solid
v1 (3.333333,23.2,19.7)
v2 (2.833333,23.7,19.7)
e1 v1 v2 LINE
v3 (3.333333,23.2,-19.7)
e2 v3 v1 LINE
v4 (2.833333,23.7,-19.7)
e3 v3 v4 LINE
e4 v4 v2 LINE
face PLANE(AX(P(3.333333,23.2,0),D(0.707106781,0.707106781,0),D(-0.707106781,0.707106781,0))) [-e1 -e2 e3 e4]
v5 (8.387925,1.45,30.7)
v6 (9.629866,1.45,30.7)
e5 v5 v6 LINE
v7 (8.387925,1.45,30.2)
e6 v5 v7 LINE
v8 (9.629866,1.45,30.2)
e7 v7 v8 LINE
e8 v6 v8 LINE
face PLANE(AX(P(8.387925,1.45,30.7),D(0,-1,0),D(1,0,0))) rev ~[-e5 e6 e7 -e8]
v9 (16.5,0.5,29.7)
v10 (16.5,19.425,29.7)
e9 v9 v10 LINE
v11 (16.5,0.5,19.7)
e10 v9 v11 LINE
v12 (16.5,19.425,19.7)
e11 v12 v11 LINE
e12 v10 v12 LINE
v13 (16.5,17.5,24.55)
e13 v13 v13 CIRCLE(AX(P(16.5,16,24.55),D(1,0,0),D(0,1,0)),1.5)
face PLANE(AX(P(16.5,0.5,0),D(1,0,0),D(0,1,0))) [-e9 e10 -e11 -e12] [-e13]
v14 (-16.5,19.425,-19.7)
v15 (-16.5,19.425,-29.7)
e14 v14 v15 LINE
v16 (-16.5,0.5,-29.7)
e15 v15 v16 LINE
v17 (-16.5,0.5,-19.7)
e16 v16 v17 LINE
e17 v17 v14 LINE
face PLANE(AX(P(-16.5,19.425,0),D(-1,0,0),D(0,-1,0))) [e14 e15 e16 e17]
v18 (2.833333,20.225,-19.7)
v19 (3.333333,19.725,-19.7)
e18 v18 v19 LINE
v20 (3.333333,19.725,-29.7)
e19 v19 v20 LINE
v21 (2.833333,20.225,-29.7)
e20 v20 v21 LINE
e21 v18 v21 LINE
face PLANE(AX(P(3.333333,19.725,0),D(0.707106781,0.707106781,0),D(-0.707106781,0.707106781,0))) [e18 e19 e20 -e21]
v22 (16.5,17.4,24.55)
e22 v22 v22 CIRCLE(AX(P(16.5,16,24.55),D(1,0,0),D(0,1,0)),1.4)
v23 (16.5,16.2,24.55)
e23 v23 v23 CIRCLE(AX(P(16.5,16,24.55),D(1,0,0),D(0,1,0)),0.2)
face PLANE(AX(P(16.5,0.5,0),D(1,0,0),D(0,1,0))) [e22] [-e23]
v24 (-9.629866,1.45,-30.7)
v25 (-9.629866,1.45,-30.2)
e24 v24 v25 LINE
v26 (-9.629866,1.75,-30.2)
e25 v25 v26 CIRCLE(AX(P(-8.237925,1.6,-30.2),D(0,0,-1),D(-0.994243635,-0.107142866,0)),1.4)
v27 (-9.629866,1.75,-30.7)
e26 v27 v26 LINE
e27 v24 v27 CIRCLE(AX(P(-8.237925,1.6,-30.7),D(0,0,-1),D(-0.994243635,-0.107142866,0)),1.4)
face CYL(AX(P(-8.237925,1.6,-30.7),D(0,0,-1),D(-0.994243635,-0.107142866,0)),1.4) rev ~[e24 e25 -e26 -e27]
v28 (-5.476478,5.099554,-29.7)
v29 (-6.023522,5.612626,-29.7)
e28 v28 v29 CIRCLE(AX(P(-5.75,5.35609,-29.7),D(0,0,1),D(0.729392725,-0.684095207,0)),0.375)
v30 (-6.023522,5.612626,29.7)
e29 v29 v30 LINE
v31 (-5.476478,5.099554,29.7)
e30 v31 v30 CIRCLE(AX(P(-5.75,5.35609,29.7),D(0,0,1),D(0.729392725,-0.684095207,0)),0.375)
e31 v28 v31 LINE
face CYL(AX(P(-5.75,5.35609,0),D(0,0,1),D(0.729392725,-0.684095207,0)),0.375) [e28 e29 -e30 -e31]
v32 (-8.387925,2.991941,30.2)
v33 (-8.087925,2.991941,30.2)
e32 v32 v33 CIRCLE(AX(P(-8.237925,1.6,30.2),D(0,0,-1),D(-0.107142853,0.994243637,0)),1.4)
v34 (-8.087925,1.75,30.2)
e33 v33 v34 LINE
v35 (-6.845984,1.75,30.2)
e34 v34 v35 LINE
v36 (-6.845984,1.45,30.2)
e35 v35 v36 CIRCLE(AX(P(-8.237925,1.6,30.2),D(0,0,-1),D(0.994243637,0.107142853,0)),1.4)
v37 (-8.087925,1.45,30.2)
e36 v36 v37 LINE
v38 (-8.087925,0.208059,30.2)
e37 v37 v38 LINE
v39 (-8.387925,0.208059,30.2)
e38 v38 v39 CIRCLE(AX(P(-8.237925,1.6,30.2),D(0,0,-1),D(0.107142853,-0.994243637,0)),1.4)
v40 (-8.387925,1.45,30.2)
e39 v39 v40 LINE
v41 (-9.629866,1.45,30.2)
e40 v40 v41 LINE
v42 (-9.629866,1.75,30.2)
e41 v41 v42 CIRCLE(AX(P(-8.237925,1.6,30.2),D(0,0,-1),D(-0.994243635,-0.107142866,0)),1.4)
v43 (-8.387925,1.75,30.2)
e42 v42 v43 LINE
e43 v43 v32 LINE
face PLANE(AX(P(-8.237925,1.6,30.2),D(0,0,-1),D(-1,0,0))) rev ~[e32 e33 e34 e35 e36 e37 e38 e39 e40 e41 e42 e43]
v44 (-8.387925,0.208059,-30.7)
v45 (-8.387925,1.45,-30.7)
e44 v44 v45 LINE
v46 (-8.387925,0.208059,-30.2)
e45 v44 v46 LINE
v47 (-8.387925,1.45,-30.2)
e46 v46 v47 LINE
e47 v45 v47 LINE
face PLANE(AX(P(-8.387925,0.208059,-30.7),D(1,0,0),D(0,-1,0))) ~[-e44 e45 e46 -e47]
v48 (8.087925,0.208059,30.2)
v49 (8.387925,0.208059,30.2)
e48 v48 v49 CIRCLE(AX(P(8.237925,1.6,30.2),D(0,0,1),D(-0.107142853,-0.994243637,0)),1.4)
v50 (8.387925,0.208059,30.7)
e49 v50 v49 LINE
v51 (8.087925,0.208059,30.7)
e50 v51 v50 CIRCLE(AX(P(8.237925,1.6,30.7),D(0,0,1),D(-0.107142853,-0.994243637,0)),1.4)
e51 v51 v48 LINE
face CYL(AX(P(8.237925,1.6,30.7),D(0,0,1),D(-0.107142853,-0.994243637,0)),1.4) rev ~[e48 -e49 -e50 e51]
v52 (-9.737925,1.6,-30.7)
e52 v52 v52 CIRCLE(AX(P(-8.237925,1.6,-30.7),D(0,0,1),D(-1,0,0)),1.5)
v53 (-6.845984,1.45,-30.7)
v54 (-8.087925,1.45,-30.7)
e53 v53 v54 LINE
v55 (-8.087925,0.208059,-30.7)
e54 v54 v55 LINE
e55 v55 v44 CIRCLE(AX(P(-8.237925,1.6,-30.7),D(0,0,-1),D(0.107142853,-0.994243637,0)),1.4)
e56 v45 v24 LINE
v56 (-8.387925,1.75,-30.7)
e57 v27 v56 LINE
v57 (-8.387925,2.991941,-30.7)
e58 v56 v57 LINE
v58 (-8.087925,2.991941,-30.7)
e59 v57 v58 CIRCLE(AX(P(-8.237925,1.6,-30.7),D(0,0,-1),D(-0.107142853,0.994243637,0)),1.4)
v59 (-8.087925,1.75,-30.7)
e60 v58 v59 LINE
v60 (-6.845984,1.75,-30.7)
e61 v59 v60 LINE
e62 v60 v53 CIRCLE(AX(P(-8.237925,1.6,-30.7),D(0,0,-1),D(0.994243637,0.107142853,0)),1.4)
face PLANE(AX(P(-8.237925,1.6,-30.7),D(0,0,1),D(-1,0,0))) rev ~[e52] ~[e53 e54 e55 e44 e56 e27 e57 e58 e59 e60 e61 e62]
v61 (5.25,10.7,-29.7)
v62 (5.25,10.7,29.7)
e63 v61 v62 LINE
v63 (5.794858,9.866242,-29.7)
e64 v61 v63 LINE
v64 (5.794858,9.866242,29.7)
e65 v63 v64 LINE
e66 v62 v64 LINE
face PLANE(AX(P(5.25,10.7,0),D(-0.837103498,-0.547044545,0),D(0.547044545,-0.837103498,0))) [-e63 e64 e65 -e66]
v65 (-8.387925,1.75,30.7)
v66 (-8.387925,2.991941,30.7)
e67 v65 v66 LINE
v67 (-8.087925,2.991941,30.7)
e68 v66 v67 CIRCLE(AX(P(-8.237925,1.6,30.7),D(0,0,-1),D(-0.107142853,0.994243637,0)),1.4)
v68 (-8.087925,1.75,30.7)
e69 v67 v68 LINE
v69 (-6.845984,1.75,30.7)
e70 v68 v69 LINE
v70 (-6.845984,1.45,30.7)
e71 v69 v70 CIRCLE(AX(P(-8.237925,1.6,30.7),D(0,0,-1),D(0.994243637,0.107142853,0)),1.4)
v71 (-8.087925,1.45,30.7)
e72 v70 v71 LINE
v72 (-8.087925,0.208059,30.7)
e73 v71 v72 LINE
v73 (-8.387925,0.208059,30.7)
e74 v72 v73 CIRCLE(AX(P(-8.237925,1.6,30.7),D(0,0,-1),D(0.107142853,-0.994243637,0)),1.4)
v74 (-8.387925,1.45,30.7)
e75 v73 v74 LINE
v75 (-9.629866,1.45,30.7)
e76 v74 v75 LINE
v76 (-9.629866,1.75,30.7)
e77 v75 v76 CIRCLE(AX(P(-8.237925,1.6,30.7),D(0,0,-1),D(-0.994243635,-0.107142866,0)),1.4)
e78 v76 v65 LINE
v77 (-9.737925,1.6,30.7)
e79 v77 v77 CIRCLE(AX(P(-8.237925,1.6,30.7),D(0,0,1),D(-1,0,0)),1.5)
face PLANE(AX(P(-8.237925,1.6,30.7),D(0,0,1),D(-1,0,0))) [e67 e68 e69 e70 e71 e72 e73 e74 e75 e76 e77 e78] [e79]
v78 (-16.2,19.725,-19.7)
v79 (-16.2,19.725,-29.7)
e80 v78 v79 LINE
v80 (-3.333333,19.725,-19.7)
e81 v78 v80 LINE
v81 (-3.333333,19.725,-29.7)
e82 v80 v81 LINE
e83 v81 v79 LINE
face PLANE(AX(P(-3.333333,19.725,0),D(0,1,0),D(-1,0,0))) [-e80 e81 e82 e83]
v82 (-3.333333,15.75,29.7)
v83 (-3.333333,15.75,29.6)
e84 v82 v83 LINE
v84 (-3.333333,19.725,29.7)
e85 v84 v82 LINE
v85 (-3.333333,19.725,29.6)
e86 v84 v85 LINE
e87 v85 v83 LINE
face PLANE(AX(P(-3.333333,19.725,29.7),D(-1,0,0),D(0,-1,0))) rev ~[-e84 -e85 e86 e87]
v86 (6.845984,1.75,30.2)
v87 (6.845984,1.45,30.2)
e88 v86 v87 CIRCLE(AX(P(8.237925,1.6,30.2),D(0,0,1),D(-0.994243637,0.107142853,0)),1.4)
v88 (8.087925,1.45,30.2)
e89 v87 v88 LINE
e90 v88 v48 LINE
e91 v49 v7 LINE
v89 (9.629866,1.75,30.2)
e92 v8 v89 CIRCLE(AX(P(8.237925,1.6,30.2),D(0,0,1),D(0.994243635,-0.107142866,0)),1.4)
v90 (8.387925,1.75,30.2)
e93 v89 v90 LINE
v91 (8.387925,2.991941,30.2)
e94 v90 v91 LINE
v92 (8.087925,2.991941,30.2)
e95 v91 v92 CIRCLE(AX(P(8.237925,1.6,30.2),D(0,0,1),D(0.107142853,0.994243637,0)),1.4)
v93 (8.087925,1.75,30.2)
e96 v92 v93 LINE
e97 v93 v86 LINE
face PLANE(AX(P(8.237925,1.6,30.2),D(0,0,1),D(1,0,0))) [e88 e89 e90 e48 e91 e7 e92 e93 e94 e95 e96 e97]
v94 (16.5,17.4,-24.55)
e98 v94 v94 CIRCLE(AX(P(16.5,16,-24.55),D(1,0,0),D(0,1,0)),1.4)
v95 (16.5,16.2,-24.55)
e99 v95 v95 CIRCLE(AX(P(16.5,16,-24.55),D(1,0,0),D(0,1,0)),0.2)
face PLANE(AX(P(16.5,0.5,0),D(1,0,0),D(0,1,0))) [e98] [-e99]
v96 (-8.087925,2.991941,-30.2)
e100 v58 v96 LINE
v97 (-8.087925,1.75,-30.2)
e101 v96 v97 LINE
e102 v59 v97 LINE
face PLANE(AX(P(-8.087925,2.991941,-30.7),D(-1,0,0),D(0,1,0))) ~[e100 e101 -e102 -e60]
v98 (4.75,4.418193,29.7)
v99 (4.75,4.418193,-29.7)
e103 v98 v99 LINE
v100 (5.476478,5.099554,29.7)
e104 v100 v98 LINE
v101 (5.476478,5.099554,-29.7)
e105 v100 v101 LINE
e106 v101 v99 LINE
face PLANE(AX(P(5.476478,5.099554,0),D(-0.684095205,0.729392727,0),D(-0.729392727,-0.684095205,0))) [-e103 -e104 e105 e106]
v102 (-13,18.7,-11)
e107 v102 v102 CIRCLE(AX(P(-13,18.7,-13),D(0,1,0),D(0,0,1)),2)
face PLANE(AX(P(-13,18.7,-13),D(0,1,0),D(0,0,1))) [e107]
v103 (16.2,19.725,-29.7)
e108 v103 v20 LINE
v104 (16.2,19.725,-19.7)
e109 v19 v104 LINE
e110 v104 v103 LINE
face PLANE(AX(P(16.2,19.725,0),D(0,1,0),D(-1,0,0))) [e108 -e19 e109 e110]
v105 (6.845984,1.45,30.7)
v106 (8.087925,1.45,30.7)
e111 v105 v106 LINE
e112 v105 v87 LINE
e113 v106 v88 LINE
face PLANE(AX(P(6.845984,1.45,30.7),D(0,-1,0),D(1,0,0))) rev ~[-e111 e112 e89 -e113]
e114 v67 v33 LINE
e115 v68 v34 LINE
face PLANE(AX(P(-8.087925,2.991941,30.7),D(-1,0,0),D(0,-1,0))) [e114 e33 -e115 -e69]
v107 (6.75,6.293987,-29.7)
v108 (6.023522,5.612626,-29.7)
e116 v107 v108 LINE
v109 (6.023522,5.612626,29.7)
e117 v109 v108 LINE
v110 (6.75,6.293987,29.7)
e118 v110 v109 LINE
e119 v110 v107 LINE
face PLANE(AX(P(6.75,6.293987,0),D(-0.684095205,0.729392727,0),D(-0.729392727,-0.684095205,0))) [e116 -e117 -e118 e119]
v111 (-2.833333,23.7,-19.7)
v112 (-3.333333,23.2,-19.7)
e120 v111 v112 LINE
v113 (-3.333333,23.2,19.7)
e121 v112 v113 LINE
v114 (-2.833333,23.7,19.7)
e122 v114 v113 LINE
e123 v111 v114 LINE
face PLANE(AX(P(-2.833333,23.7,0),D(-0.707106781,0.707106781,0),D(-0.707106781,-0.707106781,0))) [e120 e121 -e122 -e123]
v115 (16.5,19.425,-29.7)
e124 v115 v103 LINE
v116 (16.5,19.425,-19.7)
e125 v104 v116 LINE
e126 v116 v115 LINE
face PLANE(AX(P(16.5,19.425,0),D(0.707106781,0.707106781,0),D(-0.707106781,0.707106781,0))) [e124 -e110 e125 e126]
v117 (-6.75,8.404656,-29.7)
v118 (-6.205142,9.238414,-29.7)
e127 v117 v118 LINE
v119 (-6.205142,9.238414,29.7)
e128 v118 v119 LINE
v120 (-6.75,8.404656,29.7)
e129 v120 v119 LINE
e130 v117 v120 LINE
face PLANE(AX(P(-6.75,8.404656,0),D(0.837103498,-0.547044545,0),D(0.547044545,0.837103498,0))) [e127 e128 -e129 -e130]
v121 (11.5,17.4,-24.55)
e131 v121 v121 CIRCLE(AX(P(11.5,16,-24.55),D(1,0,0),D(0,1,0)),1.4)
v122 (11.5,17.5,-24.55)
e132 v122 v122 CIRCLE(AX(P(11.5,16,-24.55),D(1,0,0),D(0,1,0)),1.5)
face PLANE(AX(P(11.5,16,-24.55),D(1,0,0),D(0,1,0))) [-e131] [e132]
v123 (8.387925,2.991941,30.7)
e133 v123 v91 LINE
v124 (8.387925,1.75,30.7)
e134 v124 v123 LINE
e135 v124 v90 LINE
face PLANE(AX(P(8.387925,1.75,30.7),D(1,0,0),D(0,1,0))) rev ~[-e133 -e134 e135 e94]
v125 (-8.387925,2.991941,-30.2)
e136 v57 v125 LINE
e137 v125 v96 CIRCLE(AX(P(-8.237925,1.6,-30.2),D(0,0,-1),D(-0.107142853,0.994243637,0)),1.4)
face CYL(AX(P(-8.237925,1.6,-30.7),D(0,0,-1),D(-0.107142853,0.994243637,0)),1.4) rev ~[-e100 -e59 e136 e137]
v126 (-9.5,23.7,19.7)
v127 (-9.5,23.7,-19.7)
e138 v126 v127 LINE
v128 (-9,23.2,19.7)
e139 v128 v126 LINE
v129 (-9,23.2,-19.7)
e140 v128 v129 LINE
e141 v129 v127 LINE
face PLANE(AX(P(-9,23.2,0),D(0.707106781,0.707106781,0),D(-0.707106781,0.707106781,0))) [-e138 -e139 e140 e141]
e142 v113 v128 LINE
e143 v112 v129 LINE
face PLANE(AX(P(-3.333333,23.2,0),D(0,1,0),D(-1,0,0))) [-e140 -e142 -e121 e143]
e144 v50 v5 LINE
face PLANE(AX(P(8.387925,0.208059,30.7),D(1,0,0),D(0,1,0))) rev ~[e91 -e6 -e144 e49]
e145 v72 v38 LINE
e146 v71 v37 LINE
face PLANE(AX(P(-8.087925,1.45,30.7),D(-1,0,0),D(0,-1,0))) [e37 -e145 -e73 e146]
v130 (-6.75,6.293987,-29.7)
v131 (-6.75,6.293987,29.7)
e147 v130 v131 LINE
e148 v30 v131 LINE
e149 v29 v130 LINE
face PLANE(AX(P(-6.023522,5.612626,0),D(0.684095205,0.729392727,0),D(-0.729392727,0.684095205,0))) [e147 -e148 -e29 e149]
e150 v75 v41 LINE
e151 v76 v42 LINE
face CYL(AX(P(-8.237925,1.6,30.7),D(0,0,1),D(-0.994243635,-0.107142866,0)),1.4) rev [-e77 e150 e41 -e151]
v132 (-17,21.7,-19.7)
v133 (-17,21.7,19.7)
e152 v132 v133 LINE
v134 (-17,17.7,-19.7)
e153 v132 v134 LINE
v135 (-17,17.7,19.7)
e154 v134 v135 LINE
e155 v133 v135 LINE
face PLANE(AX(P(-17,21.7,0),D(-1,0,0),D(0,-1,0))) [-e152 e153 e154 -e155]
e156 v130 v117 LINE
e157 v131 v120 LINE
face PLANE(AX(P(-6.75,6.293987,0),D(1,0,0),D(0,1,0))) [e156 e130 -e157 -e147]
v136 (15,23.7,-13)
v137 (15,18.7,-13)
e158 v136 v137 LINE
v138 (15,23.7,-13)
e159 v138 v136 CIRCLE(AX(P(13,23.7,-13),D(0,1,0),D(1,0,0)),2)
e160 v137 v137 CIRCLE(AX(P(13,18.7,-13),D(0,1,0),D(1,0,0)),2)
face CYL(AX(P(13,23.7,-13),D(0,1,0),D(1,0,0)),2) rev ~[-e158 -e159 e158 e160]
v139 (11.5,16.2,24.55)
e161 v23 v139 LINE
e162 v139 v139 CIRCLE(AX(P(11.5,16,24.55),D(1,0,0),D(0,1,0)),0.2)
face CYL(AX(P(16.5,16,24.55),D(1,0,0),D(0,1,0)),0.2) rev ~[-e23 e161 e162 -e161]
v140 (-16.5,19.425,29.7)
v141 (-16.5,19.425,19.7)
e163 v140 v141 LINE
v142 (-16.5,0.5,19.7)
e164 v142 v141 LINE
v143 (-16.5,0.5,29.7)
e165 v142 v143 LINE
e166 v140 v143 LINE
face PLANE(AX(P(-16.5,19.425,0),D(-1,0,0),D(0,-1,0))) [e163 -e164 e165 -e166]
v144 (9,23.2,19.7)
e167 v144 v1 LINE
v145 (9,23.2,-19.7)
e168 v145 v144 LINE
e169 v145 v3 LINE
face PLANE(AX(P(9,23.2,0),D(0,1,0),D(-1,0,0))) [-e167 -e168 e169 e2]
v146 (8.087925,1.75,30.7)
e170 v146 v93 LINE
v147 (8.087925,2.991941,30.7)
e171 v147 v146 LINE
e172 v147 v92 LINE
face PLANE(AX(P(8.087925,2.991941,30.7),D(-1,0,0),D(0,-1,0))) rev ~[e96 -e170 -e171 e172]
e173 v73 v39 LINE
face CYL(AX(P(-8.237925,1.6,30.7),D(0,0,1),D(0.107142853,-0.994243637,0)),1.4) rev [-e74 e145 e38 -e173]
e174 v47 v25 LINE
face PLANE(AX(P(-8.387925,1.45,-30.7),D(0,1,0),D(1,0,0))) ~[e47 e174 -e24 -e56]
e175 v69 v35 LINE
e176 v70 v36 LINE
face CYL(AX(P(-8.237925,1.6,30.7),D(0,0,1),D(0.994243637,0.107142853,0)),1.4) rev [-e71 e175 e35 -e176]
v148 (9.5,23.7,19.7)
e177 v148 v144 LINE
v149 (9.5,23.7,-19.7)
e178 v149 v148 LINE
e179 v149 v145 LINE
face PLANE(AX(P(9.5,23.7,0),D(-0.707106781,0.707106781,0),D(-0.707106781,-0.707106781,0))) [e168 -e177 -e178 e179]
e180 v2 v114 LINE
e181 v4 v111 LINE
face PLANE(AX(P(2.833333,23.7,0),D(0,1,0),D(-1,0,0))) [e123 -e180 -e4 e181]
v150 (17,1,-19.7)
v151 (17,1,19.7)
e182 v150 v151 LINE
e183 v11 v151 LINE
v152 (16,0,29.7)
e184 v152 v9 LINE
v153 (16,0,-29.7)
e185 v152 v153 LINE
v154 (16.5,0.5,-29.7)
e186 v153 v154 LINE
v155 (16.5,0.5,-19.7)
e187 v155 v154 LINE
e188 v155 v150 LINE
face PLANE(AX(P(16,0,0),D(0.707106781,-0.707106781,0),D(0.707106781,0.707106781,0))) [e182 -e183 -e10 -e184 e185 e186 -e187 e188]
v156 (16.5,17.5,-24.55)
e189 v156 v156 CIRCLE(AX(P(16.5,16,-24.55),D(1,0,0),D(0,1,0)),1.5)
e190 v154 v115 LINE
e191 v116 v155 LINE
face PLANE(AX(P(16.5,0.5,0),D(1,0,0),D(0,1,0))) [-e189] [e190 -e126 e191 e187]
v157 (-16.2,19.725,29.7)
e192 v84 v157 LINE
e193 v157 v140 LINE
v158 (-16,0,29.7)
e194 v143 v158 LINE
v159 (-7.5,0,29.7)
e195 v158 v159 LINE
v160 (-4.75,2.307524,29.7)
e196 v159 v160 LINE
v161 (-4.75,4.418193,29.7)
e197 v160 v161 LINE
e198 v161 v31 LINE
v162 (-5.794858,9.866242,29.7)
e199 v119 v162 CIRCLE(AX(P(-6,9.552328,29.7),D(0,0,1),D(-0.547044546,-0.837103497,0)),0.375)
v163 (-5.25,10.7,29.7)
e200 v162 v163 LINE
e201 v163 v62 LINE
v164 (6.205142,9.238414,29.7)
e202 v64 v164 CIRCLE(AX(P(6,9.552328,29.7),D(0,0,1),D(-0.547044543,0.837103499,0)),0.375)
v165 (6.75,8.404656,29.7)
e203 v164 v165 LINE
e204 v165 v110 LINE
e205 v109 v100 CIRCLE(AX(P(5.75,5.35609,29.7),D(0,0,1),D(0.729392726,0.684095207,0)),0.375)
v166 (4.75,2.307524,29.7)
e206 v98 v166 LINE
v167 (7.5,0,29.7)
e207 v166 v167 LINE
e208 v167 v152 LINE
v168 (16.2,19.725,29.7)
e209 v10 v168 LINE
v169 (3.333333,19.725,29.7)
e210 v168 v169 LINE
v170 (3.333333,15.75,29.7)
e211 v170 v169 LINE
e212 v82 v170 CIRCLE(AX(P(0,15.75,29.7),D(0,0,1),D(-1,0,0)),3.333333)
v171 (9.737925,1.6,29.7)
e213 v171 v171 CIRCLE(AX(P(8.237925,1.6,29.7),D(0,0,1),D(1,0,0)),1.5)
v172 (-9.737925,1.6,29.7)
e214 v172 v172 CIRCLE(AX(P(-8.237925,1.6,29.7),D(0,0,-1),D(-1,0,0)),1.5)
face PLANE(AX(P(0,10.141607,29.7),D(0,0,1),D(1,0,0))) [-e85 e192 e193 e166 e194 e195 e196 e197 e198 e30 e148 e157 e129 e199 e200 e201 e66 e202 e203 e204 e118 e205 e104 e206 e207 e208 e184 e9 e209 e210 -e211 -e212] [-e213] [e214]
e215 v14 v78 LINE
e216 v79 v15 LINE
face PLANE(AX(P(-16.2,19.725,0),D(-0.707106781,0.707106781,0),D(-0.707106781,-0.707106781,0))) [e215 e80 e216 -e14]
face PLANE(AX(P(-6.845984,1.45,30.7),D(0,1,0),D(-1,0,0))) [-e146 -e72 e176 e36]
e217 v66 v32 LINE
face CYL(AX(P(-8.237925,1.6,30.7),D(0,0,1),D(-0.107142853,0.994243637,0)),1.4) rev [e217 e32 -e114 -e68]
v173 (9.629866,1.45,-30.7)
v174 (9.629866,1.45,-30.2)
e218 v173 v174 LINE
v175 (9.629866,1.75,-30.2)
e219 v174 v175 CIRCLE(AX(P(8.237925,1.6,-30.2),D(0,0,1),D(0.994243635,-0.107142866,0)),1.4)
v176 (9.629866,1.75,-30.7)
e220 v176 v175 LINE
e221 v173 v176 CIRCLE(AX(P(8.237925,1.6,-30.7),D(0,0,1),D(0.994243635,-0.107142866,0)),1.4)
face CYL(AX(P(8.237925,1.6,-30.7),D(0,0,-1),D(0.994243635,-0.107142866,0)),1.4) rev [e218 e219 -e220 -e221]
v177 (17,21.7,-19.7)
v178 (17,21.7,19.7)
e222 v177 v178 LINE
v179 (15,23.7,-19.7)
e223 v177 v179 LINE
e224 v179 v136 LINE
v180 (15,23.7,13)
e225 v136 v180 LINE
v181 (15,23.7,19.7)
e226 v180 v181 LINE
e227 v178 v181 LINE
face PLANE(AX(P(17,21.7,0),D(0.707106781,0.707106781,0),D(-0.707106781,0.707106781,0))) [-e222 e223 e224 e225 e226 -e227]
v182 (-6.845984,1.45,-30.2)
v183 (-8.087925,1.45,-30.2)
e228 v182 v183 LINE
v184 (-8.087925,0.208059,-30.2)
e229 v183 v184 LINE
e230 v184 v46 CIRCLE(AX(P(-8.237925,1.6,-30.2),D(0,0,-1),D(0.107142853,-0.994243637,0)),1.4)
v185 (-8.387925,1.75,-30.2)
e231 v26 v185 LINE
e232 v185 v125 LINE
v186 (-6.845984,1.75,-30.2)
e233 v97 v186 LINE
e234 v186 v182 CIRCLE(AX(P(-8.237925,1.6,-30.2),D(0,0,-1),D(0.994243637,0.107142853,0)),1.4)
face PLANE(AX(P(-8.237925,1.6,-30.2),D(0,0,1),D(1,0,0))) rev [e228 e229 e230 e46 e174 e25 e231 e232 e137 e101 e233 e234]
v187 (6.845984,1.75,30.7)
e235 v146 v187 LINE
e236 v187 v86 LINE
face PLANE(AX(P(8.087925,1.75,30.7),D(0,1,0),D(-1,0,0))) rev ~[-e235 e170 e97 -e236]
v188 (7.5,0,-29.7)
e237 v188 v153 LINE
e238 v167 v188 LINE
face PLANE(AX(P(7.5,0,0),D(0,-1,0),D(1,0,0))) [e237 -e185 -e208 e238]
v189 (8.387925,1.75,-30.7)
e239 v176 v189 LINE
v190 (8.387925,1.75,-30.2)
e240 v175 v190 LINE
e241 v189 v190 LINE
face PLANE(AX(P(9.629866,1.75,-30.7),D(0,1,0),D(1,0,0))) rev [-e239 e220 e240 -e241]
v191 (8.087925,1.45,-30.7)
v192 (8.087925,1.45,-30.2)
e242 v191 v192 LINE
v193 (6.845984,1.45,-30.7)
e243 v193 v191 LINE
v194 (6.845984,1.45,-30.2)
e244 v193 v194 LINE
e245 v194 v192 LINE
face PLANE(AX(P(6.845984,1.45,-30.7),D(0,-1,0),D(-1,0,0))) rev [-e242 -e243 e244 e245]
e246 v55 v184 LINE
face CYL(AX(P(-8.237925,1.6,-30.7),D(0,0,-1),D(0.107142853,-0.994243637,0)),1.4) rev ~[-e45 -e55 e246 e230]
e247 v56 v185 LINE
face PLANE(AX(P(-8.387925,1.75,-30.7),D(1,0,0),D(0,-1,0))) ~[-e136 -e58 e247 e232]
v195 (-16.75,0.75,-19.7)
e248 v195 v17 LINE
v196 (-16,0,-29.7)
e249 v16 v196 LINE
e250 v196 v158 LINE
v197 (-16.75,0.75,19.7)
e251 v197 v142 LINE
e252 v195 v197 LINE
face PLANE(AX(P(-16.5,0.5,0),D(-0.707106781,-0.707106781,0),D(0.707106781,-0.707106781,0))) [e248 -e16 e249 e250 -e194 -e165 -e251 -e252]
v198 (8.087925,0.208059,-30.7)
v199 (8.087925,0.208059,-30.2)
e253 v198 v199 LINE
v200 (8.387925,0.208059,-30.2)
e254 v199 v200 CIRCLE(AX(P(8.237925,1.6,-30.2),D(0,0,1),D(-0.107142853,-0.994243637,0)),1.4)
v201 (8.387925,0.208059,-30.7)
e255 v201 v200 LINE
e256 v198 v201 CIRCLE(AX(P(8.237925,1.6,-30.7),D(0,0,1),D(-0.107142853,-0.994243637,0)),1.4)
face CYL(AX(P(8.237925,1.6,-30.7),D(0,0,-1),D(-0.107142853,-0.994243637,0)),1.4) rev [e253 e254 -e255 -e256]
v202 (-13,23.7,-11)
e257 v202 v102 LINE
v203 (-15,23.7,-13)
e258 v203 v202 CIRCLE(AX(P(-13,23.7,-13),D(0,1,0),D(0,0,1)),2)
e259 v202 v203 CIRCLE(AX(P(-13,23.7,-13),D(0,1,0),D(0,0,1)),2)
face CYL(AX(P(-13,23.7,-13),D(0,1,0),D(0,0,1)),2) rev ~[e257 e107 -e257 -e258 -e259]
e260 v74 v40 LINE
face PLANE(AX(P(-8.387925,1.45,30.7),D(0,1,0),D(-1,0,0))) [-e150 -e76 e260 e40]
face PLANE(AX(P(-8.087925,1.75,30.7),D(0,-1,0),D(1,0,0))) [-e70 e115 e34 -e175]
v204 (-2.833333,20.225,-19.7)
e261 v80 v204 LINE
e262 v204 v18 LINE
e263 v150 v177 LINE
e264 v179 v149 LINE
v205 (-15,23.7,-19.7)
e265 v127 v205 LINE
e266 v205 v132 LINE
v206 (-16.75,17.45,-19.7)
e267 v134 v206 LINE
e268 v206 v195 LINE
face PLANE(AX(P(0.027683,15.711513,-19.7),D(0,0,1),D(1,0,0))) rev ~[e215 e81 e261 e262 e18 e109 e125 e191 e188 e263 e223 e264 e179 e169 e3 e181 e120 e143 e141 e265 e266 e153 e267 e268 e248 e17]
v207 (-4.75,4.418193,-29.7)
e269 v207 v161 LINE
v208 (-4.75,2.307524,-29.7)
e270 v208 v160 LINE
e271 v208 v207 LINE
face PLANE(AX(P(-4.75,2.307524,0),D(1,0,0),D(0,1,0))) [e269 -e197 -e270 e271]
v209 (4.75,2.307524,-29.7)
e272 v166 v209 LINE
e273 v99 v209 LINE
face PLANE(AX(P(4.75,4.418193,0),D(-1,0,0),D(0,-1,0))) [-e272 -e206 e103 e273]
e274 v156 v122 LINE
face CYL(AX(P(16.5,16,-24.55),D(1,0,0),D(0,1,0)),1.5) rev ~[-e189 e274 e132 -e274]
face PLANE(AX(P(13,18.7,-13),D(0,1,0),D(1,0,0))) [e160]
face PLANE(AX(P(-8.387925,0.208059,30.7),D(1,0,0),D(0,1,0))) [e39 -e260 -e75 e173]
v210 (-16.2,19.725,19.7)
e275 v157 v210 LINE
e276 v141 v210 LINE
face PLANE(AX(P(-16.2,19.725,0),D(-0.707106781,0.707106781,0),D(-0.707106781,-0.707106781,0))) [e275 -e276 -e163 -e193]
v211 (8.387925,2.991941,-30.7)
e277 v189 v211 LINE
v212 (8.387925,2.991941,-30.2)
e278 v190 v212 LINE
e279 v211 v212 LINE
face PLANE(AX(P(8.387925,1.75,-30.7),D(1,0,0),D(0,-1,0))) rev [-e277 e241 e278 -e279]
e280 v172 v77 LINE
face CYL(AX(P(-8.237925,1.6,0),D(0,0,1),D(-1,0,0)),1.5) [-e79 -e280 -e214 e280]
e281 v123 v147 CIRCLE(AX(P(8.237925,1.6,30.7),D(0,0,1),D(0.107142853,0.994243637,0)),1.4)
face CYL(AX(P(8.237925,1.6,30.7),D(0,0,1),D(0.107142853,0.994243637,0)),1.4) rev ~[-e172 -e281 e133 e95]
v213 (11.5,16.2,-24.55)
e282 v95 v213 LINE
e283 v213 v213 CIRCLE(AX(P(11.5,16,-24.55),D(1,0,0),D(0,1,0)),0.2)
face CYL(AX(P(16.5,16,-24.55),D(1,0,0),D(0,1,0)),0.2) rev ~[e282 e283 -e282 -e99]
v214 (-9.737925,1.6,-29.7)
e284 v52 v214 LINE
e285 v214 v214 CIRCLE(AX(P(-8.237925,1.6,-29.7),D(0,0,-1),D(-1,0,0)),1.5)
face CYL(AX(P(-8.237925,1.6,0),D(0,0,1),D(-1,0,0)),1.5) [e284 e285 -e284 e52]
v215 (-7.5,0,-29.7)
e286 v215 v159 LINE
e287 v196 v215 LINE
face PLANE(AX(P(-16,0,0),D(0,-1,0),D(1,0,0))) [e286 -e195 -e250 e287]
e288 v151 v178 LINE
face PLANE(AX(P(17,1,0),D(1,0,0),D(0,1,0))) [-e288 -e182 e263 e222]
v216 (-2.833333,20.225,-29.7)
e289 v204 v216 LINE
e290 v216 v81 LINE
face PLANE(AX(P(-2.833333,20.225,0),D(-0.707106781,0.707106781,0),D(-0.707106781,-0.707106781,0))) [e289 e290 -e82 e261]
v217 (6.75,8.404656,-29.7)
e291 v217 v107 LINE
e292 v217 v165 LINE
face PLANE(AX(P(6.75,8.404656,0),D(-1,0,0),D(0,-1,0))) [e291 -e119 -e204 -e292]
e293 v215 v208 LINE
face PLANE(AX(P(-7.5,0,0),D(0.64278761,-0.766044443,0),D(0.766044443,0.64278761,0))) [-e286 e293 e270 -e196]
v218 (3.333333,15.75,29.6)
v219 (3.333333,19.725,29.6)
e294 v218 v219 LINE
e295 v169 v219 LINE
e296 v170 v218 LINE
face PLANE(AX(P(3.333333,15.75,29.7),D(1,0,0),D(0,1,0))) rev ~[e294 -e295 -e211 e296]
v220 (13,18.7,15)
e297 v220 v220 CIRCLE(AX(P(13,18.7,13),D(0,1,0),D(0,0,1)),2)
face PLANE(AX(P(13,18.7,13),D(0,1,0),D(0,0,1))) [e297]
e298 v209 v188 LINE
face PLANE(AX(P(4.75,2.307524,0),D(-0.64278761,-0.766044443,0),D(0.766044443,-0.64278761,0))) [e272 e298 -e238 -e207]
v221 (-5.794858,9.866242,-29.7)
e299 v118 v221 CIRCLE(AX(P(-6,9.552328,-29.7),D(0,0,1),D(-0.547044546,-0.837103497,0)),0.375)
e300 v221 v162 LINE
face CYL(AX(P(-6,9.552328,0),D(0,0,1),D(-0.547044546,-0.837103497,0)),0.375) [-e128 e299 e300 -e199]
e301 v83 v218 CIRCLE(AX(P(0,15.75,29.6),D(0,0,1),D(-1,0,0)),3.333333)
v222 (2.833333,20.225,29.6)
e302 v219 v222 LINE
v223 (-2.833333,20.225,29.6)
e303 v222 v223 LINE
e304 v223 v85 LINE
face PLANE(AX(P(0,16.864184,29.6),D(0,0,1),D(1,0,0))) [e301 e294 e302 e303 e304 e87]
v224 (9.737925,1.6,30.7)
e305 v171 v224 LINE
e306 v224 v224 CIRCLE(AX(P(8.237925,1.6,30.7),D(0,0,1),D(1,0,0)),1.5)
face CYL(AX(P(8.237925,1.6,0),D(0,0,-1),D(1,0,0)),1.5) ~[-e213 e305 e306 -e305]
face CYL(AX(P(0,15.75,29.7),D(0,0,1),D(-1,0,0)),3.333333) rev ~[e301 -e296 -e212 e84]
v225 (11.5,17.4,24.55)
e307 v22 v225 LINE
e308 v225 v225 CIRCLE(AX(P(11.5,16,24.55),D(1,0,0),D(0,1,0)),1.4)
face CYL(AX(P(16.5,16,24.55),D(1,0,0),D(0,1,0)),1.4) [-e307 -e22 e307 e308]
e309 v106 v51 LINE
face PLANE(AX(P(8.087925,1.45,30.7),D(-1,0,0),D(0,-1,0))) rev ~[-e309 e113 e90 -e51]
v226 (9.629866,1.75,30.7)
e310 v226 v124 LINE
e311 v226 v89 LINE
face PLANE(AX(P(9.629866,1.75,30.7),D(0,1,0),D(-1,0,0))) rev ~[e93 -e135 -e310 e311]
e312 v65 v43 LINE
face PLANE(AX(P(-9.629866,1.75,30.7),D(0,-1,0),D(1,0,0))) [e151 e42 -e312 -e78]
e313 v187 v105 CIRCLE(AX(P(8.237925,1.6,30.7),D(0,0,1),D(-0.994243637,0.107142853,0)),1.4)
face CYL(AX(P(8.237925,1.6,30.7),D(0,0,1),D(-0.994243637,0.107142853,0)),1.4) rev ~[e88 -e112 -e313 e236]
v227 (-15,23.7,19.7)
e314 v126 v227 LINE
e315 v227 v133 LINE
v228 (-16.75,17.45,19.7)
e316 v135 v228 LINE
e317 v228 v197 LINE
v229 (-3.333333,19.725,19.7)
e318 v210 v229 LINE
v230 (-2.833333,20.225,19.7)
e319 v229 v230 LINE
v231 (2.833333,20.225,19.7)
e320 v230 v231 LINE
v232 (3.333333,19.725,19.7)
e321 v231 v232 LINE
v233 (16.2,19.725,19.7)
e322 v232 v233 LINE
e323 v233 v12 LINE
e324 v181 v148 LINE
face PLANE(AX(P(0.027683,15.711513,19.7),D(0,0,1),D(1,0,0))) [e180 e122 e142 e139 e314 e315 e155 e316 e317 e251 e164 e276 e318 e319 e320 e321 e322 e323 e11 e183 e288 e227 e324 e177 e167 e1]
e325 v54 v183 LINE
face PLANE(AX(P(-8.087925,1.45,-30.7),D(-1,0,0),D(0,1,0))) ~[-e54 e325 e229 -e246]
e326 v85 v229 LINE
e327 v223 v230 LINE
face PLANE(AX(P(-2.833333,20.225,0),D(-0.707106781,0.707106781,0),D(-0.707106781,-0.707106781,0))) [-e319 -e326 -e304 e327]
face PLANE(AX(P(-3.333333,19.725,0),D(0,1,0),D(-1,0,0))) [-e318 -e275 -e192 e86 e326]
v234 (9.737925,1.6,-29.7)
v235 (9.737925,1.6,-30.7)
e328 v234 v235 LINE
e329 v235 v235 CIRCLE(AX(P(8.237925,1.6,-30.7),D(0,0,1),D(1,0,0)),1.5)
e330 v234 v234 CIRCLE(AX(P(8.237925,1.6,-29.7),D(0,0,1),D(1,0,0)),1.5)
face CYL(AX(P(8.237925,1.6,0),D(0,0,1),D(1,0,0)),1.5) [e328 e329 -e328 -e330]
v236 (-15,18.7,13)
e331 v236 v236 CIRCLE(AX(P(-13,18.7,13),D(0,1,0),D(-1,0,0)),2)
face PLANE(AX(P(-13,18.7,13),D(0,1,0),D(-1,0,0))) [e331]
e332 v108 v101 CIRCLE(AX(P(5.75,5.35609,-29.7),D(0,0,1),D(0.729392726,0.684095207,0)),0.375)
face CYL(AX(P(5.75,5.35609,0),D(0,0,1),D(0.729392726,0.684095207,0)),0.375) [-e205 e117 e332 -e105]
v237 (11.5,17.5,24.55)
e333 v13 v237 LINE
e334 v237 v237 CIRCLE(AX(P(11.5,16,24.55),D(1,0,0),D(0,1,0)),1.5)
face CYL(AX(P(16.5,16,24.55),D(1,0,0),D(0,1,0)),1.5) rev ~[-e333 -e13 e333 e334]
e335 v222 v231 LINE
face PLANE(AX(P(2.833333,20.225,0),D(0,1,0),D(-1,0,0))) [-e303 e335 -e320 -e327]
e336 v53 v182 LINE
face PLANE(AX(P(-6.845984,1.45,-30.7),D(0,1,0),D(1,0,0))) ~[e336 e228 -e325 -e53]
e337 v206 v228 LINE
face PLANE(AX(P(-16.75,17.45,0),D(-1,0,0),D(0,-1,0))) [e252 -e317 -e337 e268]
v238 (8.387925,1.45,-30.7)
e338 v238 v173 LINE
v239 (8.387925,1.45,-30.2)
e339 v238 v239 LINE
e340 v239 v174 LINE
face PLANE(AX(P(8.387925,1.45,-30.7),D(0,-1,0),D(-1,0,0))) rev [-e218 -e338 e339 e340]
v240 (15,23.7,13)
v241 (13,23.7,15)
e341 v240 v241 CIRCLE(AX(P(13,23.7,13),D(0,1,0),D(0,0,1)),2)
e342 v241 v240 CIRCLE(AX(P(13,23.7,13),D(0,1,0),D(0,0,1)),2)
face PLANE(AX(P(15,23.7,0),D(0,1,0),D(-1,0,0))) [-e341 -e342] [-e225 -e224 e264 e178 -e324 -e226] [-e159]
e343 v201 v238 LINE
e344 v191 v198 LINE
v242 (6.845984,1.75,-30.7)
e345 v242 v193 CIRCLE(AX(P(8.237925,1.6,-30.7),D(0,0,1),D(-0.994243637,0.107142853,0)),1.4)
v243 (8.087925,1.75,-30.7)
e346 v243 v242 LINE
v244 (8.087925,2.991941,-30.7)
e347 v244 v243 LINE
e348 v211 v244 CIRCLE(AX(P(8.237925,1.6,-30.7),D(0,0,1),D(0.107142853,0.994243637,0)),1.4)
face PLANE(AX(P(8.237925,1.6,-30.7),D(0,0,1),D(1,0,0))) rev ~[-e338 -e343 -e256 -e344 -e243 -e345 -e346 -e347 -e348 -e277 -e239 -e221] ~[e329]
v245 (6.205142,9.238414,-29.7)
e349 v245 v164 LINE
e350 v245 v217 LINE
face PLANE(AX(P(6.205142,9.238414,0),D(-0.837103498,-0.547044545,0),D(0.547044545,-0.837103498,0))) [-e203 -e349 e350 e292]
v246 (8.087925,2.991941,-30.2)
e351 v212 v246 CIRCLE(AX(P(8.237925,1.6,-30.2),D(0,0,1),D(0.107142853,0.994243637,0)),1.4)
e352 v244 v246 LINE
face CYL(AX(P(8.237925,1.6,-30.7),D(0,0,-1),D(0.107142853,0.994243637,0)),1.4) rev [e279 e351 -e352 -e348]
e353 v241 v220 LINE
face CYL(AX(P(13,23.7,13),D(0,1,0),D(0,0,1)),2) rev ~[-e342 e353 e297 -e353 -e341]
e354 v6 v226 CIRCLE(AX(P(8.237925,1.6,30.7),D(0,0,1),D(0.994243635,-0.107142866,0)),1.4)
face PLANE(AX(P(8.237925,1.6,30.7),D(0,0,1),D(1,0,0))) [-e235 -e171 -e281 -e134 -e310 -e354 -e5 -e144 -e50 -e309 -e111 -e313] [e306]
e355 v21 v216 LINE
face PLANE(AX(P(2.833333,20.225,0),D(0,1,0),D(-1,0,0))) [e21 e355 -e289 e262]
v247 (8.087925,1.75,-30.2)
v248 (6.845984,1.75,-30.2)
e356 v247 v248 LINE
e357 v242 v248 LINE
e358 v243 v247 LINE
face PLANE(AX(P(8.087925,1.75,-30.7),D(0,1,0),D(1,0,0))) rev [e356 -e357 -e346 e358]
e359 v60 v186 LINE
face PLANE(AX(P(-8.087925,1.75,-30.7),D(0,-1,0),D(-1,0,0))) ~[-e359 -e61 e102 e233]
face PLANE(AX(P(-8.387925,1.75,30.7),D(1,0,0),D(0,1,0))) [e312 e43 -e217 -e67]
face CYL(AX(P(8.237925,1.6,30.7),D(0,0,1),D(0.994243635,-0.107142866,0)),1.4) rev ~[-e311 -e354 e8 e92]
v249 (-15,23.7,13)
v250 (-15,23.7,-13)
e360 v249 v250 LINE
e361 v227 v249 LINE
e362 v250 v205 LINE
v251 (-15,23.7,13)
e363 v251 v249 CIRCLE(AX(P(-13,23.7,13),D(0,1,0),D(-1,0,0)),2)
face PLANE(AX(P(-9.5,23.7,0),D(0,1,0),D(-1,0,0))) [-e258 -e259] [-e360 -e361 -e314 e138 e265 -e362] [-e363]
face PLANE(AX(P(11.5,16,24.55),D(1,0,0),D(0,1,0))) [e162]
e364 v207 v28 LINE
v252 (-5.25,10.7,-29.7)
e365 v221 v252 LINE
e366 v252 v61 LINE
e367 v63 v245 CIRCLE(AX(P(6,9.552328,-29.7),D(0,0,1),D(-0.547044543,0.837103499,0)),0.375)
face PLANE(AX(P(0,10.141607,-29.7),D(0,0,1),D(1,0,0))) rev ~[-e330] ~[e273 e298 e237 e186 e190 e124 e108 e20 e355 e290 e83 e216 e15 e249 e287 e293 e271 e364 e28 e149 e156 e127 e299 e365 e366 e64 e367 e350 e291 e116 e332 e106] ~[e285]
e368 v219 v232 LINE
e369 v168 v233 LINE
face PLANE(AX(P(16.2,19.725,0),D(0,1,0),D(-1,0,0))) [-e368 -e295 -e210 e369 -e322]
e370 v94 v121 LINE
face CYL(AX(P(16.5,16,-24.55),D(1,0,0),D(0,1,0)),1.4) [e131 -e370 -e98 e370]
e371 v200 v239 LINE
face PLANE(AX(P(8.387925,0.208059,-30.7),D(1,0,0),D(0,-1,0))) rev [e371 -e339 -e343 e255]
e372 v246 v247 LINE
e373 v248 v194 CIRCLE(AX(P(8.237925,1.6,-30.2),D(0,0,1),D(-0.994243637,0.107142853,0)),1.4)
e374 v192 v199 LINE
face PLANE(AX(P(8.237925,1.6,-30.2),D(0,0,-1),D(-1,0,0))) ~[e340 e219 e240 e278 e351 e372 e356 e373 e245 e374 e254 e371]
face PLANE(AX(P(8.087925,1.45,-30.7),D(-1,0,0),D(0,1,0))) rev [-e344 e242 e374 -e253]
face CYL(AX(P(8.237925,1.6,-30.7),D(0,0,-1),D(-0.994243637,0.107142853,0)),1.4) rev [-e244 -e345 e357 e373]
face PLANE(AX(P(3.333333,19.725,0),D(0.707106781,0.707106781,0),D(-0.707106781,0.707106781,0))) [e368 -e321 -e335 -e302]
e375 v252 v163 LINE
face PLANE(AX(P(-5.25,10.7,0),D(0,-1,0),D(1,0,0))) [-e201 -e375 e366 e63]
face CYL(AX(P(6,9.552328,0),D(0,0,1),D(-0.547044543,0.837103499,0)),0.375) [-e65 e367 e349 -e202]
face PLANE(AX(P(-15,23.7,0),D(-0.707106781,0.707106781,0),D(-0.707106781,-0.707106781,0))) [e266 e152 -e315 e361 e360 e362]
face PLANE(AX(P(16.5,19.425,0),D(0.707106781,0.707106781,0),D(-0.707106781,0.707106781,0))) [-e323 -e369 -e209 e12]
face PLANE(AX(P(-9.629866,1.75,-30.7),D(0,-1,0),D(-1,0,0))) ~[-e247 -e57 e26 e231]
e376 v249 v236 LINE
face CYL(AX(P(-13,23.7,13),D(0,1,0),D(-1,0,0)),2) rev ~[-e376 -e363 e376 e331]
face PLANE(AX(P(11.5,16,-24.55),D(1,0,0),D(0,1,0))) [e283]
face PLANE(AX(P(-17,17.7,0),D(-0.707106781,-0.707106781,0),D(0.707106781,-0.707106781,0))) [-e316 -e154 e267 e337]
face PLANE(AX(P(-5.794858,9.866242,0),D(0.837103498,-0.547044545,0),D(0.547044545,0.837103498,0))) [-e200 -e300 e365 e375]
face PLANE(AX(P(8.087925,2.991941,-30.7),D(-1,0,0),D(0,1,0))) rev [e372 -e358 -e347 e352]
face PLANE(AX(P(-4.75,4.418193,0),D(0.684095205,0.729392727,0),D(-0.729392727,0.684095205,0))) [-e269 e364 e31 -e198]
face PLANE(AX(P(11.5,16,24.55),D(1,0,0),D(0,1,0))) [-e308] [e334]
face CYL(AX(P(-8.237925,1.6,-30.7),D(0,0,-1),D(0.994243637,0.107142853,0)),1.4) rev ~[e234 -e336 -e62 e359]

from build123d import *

# Parameters (mm, degrees)
SKETCH_1_R           = 1.5
EXTRUDE_11_DEPTH     = 29.7
SKETCH_1_12_R        = 1.5
EXTRUDE_12_DEPTH     = 30.7
EXTRUDE_13_DEPTH     = 19.7
CUT_EXTRUDE_1_DEPTH  = 0.5
CUT_EXTRUDE_6_DEPTH  = 0.1
SKETCH_13_R          = 1.5
SKETCH_13_R_2        = 1.4
SKETCH_13_R_3        = 0.2
CUT_EXTRUDE_9_DEPTH  = 5
SKETCH_14_R          = 2
CUT_EXTRUDE_10_DEPTH = 5


with BuildPart() as part:
    # 草图1 → 凸台-拉伸11 (new, symmetric)
    with BuildSketch(Plane.XY):
        with BuildLine():
            Line((-16.5, 19.425), (-16.5, 0.5))
            Line((-16.5, 0.5), (-16, 0))
            Line((-16, 0), (-7.5, 0))
            Line((-7.5, 0), (-4.75, 2.307523986))
            Line((-4.75, 2.307523986), (-4.75, 4.418193206))
            Line((-4.75, 4.418193206), (-5.476477728, 5.099554443))
            ThreePointArc((-5.476477728, 5.099554443), (-5.493464298, 5.629612418), (-6.023522272, 5.612625848))
            Line((-6.023522272, 5.612625848), (-6.75, 6.293987085))
            Line((-6.75, 6.293987085), (-6.75, 8.404656305))
            Line((-6.75, 8.404656305), (-6.205141704, 9.238414341))
            ThreePointArc((-6.205141704, 9.238414341), (-5.686086188, 9.347186448), (-5.794858296, 9.866241964))
            Line((-5.794858296, 9.866241964), (-5.25, 10.7))
            Line((-5.25, 10.7), (5.25, 10.7))
            Line((5.25, 10.7), (5.794858296, 9.866241964))
            ThreePointArc((5.794858296, 9.866241964), (5.686086188, 9.347186448), (6.205141704, 9.238414341))
            Line((6.205141704, 9.238414341), (6.75, 8.404656305))
            Line((6.75, 8.404656305), (6.75, 6.293987085))
            Line((6.75, 6.293987085), (6.023522272, 5.612625848))
            ThreePointArc((6.023522272, 5.612625848), (5.493464298, 5.629612418), (5.476477728, 5.099554443))
            Line((5.476477728, 5.099554443), (4.75, 4.418193206))
            Line((4.75, 4.418193206), (4.75, 2.307523986))
            Line((4.75, 2.307523986), (7.5, 0))
            Line((7.5, 0), (16, 0))
            Line((16, 0), (16.5, 0.5))
            Line((16.5, 0.5), (16.5, 19.425))
            Line((16.5, 19.425), (16.2, 19.725))
            Line((16.2, 19.725), (3.333333333, 19.725))
            Line((3.333333333, 19.725), (2.833333333, 20.225))
            Line((2.833333333, 20.225), (-2.833333333, 20.225))
            Line((-2.833333333, 20.225), (-3.333333333, 19.725))
            Line((-3.333333333, 19.725), (-16.2, 19.725))
            Line((-16.2, 19.725), (-16.5, 19.425))
        make_face()
        with Locations((-8.237924758, 1.6)):
            Circle(SKETCH_1_R, mode=Mode.SUBTRACT)
        with Locations((8.237924758, 1.6)):
            Circle(SKETCH_1_R, mode=Mode.SUBTRACT)
    extrude(amount=EXTRUDE_11_DEPTH, both=True)

    # 草图1<12> → 凸台-拉伸12 (add, symmetric)
    with BuildSketch(Plane.XY):
        with Locations((8.237924758, 1.6)):
            Circle(SKETCH_1_12_R)
        with Locations((-8.237924758, 1.6)):
            Circle(SKETCH_1_12_R)
    extrude(amount=EXTRUDE_12_DEPTH, both=True)

    # 草图1<13> → 凸台-拉伸13 (add, symmetric)
    with BuildSketch(Plane.XY):
        Polygon((-15, 23.7), (-17, 21.7), (-17, 17.7), (-16.75, 17.45), (-16.75, 0.75), (-16.5, 0.5), (-16.5, 19.425), (-16.2, 19.725), (-3.333333333, 19.725), (-2.833333333, 20.225), (2.833333333, 20.225), (3.333333333, 19.725), (16.2, 19.725), (16.5, 19.425), (16.5, 0.5), (17, 1), (17, 21.7), (15, 23.7), (9.5, 23.7), (9, 23.2), (3.333333333, 23.2), (2.833333333, 23.7), (-2.833333333, 23.7), (-3.333333333, 23.2), (-9, 23.2), (-9.5, 23.7), align=None)
    extrude(amount=EXTRUDE_13_DEPTH, both=True)

    # 草图4 → 切除-拉伸1 (cut)
    with BuildSketch(Plane.XY.offset(30.7)):
        with BuildLine():
            Line((8.087924758, 1.75), (6.845983667, 1.75))
            ThreePointArc((6.845983667, 1.75), (6.837924758, 1.6), (6.845983667, 1.45))
            Line((6.845983667, 1.45), (8.087924758, 1.45))
            Line((8.087924758, 1.45), (8.087924758, 0.208058909))
            ThreePointArc((8.087924758, 0.208058909), (8.237924758, 0.2), (8.387924758, 0.208058909))
            Line((8.387924758, 0.208058909), (8.387924758, 1.45))
            Line((8.387924758, 1.45), (9.629865848, 1.45))
            ThreePointArc((9.629865848, 1.45), (9.637924758, 1.6), (9.629865848, 1.75))
            Line((9.629865848, 1.75), (8.387924758, 1.75))
            Line((8.387924758, 1.75), (8.387924758, 2.991941091))
            ThreePointArc((8.387924758, 2.991941091), (8.237924758, 3), (8.087924758, 2.991941091))
            Line((8.087924758, 2.991941091), (8.087924758, 1.75))
        make_face()
        with BuildLine():
            Line((-8.087924758, 2.991941091), (-8.087924758, 1.75))
            Line((-8.087924758, 1.75), (-6.845983667, 1.75))
            ThreePointArc((-6.845983667, 1.75), (-6.837924758, 1.6), (-6.845983667, 1.45))
            Line((-6.845983667, 1.45), (-8.087924758, 1.45))
            Line((-8.087924758, 1.45), (-8.087924758, 0.208058909))
            ThreePointArc((-8.087924758, 0.208058909), (-8.237924758, 0.2), (-8.387924758, 0.208058909))
            Line((-8.387924758, 0.208058909), (-8.387924758, 1.45))
            Line((-8.387924758, 1.45), (-9.629865848, 1.45))
            ThreePointArc((-9.629865848, 1.45), (-9.637924758, 1.6), (-9.629865848, 1.75))
            Line((-9.629865848, 1.75), (-8.387924758, 1.75))
            Line((-8.387924758, 1.75), (-8.387924758, 2.991941091))
            ThreePointArc((-8.387924758, 2.991941091), (-8.237924758, 3), (-8.087924758, 2.991941091))
        make_face()
    cut_extrude_1 = extrude(amount=-CUT_EXTRUDE_1_DEPTH, mode=Mode.SUBTRACT)

    # 镜向1: 切除-拉伸1 across plane
    add(cut_extrude_1.mirror(Plane.XY), mode=Mode.SUBTRACT)

    # 草图8 → 切除-拉伸6 (cut)
    with BuildSketch(Plane.XY.offset(29.7)):
        with BuildLine():
            Line((3.333333333, 15.75), (3.333333333, 19.725))
            Line((3.333333333, 19.725), (2.833333333, 20.225))
            Line((2.833333333, 20.225), (-2.833333333, 20.225))
            Line((-2.833333333, 20.225), (-3.333333333, 19.725))
            Line((-3.333333333, 19.725), (-3.333333333, 15.75))
            ThreePointArc((-3.333333333, 15.75), (0, 12.416666667), (3.333333333, 15.75))
        make_face()
    extrude(amount=-CUT_EXTRUDE_6_DEPTH, mode=Mode.SUBTRACT)

    # 草图13 → 切除-拉伸9 (cut)
    # profile 1 of 4: a face of its own
    with BuildSketch(Plane(origin=(16.5, 0, 0), x_dir=(0, 0, -1), z_dir=(1, 0, 0))):
        with Locations((-24.55, 16)):
            Circle(SKETCH_13_R)
        with Locations((-24.55, 16)):
            Circle(SKETCH_13_R_2, mode=Mode.SUBTRACT)
    # profile 2 of 4: a face of its own
    with BuildSketch(Plane(origin=(16.5, 0, 0), x_dir=(0, 0, -1), z_dir=(1, 0, 0))):
        with Locations((24.55, 16)):
            Circle(SKETCH_13_R)
        with Locations((24.55, 16)):
            Circle(SKETCH_13_R_2, mode=Mode.SUBTRACT)
    # profile 3 of 4: a face of its own
    with BuildSketch(Plane(origin=(16.5, 0, 0), x_dir=(0, 0, -1), z_dir=(1, 0, 0))):
        with Locations((-24.55, 16)):
            Circle(SKETCH_13_R_3)
    # profile 4 of 4: a face of its own
    with BuildSketch(Plane(origin=(16.5, 0, 0), x_dir=(0, 0, -1), z_dir=(1, 0, 0))):
        with Locations((24.55, 16)):
            Circle(SKETCH_13_R_3)
    extrude(amount=-CUT_EXTRUDE_9_DEPTH, mode=Mode.SUBTRACT)

    # 草图14 → 切除-拉伸10 (cut)
    with BuildSketch(Plane(origin=(0, 23.7, 0), x_dir=(1, 0, 0), z_dir=(0, 1, 0))):
        with Locations((-13, 13)):
            Circle(SKETCH_14_R)
        with Locations((13, 13)):
            Circle(SKETCH_14_R)
        with Locations((13, -13)):
            Circle(SKETCH_14_R)
        with Locations((-13, -13)):
            Circle(SKETCH_14_R)
    extrude(amount=-CUT_EXTRUDE_10_DEPTH, mode=Mode.SUBTRACT)


solid = part.part
